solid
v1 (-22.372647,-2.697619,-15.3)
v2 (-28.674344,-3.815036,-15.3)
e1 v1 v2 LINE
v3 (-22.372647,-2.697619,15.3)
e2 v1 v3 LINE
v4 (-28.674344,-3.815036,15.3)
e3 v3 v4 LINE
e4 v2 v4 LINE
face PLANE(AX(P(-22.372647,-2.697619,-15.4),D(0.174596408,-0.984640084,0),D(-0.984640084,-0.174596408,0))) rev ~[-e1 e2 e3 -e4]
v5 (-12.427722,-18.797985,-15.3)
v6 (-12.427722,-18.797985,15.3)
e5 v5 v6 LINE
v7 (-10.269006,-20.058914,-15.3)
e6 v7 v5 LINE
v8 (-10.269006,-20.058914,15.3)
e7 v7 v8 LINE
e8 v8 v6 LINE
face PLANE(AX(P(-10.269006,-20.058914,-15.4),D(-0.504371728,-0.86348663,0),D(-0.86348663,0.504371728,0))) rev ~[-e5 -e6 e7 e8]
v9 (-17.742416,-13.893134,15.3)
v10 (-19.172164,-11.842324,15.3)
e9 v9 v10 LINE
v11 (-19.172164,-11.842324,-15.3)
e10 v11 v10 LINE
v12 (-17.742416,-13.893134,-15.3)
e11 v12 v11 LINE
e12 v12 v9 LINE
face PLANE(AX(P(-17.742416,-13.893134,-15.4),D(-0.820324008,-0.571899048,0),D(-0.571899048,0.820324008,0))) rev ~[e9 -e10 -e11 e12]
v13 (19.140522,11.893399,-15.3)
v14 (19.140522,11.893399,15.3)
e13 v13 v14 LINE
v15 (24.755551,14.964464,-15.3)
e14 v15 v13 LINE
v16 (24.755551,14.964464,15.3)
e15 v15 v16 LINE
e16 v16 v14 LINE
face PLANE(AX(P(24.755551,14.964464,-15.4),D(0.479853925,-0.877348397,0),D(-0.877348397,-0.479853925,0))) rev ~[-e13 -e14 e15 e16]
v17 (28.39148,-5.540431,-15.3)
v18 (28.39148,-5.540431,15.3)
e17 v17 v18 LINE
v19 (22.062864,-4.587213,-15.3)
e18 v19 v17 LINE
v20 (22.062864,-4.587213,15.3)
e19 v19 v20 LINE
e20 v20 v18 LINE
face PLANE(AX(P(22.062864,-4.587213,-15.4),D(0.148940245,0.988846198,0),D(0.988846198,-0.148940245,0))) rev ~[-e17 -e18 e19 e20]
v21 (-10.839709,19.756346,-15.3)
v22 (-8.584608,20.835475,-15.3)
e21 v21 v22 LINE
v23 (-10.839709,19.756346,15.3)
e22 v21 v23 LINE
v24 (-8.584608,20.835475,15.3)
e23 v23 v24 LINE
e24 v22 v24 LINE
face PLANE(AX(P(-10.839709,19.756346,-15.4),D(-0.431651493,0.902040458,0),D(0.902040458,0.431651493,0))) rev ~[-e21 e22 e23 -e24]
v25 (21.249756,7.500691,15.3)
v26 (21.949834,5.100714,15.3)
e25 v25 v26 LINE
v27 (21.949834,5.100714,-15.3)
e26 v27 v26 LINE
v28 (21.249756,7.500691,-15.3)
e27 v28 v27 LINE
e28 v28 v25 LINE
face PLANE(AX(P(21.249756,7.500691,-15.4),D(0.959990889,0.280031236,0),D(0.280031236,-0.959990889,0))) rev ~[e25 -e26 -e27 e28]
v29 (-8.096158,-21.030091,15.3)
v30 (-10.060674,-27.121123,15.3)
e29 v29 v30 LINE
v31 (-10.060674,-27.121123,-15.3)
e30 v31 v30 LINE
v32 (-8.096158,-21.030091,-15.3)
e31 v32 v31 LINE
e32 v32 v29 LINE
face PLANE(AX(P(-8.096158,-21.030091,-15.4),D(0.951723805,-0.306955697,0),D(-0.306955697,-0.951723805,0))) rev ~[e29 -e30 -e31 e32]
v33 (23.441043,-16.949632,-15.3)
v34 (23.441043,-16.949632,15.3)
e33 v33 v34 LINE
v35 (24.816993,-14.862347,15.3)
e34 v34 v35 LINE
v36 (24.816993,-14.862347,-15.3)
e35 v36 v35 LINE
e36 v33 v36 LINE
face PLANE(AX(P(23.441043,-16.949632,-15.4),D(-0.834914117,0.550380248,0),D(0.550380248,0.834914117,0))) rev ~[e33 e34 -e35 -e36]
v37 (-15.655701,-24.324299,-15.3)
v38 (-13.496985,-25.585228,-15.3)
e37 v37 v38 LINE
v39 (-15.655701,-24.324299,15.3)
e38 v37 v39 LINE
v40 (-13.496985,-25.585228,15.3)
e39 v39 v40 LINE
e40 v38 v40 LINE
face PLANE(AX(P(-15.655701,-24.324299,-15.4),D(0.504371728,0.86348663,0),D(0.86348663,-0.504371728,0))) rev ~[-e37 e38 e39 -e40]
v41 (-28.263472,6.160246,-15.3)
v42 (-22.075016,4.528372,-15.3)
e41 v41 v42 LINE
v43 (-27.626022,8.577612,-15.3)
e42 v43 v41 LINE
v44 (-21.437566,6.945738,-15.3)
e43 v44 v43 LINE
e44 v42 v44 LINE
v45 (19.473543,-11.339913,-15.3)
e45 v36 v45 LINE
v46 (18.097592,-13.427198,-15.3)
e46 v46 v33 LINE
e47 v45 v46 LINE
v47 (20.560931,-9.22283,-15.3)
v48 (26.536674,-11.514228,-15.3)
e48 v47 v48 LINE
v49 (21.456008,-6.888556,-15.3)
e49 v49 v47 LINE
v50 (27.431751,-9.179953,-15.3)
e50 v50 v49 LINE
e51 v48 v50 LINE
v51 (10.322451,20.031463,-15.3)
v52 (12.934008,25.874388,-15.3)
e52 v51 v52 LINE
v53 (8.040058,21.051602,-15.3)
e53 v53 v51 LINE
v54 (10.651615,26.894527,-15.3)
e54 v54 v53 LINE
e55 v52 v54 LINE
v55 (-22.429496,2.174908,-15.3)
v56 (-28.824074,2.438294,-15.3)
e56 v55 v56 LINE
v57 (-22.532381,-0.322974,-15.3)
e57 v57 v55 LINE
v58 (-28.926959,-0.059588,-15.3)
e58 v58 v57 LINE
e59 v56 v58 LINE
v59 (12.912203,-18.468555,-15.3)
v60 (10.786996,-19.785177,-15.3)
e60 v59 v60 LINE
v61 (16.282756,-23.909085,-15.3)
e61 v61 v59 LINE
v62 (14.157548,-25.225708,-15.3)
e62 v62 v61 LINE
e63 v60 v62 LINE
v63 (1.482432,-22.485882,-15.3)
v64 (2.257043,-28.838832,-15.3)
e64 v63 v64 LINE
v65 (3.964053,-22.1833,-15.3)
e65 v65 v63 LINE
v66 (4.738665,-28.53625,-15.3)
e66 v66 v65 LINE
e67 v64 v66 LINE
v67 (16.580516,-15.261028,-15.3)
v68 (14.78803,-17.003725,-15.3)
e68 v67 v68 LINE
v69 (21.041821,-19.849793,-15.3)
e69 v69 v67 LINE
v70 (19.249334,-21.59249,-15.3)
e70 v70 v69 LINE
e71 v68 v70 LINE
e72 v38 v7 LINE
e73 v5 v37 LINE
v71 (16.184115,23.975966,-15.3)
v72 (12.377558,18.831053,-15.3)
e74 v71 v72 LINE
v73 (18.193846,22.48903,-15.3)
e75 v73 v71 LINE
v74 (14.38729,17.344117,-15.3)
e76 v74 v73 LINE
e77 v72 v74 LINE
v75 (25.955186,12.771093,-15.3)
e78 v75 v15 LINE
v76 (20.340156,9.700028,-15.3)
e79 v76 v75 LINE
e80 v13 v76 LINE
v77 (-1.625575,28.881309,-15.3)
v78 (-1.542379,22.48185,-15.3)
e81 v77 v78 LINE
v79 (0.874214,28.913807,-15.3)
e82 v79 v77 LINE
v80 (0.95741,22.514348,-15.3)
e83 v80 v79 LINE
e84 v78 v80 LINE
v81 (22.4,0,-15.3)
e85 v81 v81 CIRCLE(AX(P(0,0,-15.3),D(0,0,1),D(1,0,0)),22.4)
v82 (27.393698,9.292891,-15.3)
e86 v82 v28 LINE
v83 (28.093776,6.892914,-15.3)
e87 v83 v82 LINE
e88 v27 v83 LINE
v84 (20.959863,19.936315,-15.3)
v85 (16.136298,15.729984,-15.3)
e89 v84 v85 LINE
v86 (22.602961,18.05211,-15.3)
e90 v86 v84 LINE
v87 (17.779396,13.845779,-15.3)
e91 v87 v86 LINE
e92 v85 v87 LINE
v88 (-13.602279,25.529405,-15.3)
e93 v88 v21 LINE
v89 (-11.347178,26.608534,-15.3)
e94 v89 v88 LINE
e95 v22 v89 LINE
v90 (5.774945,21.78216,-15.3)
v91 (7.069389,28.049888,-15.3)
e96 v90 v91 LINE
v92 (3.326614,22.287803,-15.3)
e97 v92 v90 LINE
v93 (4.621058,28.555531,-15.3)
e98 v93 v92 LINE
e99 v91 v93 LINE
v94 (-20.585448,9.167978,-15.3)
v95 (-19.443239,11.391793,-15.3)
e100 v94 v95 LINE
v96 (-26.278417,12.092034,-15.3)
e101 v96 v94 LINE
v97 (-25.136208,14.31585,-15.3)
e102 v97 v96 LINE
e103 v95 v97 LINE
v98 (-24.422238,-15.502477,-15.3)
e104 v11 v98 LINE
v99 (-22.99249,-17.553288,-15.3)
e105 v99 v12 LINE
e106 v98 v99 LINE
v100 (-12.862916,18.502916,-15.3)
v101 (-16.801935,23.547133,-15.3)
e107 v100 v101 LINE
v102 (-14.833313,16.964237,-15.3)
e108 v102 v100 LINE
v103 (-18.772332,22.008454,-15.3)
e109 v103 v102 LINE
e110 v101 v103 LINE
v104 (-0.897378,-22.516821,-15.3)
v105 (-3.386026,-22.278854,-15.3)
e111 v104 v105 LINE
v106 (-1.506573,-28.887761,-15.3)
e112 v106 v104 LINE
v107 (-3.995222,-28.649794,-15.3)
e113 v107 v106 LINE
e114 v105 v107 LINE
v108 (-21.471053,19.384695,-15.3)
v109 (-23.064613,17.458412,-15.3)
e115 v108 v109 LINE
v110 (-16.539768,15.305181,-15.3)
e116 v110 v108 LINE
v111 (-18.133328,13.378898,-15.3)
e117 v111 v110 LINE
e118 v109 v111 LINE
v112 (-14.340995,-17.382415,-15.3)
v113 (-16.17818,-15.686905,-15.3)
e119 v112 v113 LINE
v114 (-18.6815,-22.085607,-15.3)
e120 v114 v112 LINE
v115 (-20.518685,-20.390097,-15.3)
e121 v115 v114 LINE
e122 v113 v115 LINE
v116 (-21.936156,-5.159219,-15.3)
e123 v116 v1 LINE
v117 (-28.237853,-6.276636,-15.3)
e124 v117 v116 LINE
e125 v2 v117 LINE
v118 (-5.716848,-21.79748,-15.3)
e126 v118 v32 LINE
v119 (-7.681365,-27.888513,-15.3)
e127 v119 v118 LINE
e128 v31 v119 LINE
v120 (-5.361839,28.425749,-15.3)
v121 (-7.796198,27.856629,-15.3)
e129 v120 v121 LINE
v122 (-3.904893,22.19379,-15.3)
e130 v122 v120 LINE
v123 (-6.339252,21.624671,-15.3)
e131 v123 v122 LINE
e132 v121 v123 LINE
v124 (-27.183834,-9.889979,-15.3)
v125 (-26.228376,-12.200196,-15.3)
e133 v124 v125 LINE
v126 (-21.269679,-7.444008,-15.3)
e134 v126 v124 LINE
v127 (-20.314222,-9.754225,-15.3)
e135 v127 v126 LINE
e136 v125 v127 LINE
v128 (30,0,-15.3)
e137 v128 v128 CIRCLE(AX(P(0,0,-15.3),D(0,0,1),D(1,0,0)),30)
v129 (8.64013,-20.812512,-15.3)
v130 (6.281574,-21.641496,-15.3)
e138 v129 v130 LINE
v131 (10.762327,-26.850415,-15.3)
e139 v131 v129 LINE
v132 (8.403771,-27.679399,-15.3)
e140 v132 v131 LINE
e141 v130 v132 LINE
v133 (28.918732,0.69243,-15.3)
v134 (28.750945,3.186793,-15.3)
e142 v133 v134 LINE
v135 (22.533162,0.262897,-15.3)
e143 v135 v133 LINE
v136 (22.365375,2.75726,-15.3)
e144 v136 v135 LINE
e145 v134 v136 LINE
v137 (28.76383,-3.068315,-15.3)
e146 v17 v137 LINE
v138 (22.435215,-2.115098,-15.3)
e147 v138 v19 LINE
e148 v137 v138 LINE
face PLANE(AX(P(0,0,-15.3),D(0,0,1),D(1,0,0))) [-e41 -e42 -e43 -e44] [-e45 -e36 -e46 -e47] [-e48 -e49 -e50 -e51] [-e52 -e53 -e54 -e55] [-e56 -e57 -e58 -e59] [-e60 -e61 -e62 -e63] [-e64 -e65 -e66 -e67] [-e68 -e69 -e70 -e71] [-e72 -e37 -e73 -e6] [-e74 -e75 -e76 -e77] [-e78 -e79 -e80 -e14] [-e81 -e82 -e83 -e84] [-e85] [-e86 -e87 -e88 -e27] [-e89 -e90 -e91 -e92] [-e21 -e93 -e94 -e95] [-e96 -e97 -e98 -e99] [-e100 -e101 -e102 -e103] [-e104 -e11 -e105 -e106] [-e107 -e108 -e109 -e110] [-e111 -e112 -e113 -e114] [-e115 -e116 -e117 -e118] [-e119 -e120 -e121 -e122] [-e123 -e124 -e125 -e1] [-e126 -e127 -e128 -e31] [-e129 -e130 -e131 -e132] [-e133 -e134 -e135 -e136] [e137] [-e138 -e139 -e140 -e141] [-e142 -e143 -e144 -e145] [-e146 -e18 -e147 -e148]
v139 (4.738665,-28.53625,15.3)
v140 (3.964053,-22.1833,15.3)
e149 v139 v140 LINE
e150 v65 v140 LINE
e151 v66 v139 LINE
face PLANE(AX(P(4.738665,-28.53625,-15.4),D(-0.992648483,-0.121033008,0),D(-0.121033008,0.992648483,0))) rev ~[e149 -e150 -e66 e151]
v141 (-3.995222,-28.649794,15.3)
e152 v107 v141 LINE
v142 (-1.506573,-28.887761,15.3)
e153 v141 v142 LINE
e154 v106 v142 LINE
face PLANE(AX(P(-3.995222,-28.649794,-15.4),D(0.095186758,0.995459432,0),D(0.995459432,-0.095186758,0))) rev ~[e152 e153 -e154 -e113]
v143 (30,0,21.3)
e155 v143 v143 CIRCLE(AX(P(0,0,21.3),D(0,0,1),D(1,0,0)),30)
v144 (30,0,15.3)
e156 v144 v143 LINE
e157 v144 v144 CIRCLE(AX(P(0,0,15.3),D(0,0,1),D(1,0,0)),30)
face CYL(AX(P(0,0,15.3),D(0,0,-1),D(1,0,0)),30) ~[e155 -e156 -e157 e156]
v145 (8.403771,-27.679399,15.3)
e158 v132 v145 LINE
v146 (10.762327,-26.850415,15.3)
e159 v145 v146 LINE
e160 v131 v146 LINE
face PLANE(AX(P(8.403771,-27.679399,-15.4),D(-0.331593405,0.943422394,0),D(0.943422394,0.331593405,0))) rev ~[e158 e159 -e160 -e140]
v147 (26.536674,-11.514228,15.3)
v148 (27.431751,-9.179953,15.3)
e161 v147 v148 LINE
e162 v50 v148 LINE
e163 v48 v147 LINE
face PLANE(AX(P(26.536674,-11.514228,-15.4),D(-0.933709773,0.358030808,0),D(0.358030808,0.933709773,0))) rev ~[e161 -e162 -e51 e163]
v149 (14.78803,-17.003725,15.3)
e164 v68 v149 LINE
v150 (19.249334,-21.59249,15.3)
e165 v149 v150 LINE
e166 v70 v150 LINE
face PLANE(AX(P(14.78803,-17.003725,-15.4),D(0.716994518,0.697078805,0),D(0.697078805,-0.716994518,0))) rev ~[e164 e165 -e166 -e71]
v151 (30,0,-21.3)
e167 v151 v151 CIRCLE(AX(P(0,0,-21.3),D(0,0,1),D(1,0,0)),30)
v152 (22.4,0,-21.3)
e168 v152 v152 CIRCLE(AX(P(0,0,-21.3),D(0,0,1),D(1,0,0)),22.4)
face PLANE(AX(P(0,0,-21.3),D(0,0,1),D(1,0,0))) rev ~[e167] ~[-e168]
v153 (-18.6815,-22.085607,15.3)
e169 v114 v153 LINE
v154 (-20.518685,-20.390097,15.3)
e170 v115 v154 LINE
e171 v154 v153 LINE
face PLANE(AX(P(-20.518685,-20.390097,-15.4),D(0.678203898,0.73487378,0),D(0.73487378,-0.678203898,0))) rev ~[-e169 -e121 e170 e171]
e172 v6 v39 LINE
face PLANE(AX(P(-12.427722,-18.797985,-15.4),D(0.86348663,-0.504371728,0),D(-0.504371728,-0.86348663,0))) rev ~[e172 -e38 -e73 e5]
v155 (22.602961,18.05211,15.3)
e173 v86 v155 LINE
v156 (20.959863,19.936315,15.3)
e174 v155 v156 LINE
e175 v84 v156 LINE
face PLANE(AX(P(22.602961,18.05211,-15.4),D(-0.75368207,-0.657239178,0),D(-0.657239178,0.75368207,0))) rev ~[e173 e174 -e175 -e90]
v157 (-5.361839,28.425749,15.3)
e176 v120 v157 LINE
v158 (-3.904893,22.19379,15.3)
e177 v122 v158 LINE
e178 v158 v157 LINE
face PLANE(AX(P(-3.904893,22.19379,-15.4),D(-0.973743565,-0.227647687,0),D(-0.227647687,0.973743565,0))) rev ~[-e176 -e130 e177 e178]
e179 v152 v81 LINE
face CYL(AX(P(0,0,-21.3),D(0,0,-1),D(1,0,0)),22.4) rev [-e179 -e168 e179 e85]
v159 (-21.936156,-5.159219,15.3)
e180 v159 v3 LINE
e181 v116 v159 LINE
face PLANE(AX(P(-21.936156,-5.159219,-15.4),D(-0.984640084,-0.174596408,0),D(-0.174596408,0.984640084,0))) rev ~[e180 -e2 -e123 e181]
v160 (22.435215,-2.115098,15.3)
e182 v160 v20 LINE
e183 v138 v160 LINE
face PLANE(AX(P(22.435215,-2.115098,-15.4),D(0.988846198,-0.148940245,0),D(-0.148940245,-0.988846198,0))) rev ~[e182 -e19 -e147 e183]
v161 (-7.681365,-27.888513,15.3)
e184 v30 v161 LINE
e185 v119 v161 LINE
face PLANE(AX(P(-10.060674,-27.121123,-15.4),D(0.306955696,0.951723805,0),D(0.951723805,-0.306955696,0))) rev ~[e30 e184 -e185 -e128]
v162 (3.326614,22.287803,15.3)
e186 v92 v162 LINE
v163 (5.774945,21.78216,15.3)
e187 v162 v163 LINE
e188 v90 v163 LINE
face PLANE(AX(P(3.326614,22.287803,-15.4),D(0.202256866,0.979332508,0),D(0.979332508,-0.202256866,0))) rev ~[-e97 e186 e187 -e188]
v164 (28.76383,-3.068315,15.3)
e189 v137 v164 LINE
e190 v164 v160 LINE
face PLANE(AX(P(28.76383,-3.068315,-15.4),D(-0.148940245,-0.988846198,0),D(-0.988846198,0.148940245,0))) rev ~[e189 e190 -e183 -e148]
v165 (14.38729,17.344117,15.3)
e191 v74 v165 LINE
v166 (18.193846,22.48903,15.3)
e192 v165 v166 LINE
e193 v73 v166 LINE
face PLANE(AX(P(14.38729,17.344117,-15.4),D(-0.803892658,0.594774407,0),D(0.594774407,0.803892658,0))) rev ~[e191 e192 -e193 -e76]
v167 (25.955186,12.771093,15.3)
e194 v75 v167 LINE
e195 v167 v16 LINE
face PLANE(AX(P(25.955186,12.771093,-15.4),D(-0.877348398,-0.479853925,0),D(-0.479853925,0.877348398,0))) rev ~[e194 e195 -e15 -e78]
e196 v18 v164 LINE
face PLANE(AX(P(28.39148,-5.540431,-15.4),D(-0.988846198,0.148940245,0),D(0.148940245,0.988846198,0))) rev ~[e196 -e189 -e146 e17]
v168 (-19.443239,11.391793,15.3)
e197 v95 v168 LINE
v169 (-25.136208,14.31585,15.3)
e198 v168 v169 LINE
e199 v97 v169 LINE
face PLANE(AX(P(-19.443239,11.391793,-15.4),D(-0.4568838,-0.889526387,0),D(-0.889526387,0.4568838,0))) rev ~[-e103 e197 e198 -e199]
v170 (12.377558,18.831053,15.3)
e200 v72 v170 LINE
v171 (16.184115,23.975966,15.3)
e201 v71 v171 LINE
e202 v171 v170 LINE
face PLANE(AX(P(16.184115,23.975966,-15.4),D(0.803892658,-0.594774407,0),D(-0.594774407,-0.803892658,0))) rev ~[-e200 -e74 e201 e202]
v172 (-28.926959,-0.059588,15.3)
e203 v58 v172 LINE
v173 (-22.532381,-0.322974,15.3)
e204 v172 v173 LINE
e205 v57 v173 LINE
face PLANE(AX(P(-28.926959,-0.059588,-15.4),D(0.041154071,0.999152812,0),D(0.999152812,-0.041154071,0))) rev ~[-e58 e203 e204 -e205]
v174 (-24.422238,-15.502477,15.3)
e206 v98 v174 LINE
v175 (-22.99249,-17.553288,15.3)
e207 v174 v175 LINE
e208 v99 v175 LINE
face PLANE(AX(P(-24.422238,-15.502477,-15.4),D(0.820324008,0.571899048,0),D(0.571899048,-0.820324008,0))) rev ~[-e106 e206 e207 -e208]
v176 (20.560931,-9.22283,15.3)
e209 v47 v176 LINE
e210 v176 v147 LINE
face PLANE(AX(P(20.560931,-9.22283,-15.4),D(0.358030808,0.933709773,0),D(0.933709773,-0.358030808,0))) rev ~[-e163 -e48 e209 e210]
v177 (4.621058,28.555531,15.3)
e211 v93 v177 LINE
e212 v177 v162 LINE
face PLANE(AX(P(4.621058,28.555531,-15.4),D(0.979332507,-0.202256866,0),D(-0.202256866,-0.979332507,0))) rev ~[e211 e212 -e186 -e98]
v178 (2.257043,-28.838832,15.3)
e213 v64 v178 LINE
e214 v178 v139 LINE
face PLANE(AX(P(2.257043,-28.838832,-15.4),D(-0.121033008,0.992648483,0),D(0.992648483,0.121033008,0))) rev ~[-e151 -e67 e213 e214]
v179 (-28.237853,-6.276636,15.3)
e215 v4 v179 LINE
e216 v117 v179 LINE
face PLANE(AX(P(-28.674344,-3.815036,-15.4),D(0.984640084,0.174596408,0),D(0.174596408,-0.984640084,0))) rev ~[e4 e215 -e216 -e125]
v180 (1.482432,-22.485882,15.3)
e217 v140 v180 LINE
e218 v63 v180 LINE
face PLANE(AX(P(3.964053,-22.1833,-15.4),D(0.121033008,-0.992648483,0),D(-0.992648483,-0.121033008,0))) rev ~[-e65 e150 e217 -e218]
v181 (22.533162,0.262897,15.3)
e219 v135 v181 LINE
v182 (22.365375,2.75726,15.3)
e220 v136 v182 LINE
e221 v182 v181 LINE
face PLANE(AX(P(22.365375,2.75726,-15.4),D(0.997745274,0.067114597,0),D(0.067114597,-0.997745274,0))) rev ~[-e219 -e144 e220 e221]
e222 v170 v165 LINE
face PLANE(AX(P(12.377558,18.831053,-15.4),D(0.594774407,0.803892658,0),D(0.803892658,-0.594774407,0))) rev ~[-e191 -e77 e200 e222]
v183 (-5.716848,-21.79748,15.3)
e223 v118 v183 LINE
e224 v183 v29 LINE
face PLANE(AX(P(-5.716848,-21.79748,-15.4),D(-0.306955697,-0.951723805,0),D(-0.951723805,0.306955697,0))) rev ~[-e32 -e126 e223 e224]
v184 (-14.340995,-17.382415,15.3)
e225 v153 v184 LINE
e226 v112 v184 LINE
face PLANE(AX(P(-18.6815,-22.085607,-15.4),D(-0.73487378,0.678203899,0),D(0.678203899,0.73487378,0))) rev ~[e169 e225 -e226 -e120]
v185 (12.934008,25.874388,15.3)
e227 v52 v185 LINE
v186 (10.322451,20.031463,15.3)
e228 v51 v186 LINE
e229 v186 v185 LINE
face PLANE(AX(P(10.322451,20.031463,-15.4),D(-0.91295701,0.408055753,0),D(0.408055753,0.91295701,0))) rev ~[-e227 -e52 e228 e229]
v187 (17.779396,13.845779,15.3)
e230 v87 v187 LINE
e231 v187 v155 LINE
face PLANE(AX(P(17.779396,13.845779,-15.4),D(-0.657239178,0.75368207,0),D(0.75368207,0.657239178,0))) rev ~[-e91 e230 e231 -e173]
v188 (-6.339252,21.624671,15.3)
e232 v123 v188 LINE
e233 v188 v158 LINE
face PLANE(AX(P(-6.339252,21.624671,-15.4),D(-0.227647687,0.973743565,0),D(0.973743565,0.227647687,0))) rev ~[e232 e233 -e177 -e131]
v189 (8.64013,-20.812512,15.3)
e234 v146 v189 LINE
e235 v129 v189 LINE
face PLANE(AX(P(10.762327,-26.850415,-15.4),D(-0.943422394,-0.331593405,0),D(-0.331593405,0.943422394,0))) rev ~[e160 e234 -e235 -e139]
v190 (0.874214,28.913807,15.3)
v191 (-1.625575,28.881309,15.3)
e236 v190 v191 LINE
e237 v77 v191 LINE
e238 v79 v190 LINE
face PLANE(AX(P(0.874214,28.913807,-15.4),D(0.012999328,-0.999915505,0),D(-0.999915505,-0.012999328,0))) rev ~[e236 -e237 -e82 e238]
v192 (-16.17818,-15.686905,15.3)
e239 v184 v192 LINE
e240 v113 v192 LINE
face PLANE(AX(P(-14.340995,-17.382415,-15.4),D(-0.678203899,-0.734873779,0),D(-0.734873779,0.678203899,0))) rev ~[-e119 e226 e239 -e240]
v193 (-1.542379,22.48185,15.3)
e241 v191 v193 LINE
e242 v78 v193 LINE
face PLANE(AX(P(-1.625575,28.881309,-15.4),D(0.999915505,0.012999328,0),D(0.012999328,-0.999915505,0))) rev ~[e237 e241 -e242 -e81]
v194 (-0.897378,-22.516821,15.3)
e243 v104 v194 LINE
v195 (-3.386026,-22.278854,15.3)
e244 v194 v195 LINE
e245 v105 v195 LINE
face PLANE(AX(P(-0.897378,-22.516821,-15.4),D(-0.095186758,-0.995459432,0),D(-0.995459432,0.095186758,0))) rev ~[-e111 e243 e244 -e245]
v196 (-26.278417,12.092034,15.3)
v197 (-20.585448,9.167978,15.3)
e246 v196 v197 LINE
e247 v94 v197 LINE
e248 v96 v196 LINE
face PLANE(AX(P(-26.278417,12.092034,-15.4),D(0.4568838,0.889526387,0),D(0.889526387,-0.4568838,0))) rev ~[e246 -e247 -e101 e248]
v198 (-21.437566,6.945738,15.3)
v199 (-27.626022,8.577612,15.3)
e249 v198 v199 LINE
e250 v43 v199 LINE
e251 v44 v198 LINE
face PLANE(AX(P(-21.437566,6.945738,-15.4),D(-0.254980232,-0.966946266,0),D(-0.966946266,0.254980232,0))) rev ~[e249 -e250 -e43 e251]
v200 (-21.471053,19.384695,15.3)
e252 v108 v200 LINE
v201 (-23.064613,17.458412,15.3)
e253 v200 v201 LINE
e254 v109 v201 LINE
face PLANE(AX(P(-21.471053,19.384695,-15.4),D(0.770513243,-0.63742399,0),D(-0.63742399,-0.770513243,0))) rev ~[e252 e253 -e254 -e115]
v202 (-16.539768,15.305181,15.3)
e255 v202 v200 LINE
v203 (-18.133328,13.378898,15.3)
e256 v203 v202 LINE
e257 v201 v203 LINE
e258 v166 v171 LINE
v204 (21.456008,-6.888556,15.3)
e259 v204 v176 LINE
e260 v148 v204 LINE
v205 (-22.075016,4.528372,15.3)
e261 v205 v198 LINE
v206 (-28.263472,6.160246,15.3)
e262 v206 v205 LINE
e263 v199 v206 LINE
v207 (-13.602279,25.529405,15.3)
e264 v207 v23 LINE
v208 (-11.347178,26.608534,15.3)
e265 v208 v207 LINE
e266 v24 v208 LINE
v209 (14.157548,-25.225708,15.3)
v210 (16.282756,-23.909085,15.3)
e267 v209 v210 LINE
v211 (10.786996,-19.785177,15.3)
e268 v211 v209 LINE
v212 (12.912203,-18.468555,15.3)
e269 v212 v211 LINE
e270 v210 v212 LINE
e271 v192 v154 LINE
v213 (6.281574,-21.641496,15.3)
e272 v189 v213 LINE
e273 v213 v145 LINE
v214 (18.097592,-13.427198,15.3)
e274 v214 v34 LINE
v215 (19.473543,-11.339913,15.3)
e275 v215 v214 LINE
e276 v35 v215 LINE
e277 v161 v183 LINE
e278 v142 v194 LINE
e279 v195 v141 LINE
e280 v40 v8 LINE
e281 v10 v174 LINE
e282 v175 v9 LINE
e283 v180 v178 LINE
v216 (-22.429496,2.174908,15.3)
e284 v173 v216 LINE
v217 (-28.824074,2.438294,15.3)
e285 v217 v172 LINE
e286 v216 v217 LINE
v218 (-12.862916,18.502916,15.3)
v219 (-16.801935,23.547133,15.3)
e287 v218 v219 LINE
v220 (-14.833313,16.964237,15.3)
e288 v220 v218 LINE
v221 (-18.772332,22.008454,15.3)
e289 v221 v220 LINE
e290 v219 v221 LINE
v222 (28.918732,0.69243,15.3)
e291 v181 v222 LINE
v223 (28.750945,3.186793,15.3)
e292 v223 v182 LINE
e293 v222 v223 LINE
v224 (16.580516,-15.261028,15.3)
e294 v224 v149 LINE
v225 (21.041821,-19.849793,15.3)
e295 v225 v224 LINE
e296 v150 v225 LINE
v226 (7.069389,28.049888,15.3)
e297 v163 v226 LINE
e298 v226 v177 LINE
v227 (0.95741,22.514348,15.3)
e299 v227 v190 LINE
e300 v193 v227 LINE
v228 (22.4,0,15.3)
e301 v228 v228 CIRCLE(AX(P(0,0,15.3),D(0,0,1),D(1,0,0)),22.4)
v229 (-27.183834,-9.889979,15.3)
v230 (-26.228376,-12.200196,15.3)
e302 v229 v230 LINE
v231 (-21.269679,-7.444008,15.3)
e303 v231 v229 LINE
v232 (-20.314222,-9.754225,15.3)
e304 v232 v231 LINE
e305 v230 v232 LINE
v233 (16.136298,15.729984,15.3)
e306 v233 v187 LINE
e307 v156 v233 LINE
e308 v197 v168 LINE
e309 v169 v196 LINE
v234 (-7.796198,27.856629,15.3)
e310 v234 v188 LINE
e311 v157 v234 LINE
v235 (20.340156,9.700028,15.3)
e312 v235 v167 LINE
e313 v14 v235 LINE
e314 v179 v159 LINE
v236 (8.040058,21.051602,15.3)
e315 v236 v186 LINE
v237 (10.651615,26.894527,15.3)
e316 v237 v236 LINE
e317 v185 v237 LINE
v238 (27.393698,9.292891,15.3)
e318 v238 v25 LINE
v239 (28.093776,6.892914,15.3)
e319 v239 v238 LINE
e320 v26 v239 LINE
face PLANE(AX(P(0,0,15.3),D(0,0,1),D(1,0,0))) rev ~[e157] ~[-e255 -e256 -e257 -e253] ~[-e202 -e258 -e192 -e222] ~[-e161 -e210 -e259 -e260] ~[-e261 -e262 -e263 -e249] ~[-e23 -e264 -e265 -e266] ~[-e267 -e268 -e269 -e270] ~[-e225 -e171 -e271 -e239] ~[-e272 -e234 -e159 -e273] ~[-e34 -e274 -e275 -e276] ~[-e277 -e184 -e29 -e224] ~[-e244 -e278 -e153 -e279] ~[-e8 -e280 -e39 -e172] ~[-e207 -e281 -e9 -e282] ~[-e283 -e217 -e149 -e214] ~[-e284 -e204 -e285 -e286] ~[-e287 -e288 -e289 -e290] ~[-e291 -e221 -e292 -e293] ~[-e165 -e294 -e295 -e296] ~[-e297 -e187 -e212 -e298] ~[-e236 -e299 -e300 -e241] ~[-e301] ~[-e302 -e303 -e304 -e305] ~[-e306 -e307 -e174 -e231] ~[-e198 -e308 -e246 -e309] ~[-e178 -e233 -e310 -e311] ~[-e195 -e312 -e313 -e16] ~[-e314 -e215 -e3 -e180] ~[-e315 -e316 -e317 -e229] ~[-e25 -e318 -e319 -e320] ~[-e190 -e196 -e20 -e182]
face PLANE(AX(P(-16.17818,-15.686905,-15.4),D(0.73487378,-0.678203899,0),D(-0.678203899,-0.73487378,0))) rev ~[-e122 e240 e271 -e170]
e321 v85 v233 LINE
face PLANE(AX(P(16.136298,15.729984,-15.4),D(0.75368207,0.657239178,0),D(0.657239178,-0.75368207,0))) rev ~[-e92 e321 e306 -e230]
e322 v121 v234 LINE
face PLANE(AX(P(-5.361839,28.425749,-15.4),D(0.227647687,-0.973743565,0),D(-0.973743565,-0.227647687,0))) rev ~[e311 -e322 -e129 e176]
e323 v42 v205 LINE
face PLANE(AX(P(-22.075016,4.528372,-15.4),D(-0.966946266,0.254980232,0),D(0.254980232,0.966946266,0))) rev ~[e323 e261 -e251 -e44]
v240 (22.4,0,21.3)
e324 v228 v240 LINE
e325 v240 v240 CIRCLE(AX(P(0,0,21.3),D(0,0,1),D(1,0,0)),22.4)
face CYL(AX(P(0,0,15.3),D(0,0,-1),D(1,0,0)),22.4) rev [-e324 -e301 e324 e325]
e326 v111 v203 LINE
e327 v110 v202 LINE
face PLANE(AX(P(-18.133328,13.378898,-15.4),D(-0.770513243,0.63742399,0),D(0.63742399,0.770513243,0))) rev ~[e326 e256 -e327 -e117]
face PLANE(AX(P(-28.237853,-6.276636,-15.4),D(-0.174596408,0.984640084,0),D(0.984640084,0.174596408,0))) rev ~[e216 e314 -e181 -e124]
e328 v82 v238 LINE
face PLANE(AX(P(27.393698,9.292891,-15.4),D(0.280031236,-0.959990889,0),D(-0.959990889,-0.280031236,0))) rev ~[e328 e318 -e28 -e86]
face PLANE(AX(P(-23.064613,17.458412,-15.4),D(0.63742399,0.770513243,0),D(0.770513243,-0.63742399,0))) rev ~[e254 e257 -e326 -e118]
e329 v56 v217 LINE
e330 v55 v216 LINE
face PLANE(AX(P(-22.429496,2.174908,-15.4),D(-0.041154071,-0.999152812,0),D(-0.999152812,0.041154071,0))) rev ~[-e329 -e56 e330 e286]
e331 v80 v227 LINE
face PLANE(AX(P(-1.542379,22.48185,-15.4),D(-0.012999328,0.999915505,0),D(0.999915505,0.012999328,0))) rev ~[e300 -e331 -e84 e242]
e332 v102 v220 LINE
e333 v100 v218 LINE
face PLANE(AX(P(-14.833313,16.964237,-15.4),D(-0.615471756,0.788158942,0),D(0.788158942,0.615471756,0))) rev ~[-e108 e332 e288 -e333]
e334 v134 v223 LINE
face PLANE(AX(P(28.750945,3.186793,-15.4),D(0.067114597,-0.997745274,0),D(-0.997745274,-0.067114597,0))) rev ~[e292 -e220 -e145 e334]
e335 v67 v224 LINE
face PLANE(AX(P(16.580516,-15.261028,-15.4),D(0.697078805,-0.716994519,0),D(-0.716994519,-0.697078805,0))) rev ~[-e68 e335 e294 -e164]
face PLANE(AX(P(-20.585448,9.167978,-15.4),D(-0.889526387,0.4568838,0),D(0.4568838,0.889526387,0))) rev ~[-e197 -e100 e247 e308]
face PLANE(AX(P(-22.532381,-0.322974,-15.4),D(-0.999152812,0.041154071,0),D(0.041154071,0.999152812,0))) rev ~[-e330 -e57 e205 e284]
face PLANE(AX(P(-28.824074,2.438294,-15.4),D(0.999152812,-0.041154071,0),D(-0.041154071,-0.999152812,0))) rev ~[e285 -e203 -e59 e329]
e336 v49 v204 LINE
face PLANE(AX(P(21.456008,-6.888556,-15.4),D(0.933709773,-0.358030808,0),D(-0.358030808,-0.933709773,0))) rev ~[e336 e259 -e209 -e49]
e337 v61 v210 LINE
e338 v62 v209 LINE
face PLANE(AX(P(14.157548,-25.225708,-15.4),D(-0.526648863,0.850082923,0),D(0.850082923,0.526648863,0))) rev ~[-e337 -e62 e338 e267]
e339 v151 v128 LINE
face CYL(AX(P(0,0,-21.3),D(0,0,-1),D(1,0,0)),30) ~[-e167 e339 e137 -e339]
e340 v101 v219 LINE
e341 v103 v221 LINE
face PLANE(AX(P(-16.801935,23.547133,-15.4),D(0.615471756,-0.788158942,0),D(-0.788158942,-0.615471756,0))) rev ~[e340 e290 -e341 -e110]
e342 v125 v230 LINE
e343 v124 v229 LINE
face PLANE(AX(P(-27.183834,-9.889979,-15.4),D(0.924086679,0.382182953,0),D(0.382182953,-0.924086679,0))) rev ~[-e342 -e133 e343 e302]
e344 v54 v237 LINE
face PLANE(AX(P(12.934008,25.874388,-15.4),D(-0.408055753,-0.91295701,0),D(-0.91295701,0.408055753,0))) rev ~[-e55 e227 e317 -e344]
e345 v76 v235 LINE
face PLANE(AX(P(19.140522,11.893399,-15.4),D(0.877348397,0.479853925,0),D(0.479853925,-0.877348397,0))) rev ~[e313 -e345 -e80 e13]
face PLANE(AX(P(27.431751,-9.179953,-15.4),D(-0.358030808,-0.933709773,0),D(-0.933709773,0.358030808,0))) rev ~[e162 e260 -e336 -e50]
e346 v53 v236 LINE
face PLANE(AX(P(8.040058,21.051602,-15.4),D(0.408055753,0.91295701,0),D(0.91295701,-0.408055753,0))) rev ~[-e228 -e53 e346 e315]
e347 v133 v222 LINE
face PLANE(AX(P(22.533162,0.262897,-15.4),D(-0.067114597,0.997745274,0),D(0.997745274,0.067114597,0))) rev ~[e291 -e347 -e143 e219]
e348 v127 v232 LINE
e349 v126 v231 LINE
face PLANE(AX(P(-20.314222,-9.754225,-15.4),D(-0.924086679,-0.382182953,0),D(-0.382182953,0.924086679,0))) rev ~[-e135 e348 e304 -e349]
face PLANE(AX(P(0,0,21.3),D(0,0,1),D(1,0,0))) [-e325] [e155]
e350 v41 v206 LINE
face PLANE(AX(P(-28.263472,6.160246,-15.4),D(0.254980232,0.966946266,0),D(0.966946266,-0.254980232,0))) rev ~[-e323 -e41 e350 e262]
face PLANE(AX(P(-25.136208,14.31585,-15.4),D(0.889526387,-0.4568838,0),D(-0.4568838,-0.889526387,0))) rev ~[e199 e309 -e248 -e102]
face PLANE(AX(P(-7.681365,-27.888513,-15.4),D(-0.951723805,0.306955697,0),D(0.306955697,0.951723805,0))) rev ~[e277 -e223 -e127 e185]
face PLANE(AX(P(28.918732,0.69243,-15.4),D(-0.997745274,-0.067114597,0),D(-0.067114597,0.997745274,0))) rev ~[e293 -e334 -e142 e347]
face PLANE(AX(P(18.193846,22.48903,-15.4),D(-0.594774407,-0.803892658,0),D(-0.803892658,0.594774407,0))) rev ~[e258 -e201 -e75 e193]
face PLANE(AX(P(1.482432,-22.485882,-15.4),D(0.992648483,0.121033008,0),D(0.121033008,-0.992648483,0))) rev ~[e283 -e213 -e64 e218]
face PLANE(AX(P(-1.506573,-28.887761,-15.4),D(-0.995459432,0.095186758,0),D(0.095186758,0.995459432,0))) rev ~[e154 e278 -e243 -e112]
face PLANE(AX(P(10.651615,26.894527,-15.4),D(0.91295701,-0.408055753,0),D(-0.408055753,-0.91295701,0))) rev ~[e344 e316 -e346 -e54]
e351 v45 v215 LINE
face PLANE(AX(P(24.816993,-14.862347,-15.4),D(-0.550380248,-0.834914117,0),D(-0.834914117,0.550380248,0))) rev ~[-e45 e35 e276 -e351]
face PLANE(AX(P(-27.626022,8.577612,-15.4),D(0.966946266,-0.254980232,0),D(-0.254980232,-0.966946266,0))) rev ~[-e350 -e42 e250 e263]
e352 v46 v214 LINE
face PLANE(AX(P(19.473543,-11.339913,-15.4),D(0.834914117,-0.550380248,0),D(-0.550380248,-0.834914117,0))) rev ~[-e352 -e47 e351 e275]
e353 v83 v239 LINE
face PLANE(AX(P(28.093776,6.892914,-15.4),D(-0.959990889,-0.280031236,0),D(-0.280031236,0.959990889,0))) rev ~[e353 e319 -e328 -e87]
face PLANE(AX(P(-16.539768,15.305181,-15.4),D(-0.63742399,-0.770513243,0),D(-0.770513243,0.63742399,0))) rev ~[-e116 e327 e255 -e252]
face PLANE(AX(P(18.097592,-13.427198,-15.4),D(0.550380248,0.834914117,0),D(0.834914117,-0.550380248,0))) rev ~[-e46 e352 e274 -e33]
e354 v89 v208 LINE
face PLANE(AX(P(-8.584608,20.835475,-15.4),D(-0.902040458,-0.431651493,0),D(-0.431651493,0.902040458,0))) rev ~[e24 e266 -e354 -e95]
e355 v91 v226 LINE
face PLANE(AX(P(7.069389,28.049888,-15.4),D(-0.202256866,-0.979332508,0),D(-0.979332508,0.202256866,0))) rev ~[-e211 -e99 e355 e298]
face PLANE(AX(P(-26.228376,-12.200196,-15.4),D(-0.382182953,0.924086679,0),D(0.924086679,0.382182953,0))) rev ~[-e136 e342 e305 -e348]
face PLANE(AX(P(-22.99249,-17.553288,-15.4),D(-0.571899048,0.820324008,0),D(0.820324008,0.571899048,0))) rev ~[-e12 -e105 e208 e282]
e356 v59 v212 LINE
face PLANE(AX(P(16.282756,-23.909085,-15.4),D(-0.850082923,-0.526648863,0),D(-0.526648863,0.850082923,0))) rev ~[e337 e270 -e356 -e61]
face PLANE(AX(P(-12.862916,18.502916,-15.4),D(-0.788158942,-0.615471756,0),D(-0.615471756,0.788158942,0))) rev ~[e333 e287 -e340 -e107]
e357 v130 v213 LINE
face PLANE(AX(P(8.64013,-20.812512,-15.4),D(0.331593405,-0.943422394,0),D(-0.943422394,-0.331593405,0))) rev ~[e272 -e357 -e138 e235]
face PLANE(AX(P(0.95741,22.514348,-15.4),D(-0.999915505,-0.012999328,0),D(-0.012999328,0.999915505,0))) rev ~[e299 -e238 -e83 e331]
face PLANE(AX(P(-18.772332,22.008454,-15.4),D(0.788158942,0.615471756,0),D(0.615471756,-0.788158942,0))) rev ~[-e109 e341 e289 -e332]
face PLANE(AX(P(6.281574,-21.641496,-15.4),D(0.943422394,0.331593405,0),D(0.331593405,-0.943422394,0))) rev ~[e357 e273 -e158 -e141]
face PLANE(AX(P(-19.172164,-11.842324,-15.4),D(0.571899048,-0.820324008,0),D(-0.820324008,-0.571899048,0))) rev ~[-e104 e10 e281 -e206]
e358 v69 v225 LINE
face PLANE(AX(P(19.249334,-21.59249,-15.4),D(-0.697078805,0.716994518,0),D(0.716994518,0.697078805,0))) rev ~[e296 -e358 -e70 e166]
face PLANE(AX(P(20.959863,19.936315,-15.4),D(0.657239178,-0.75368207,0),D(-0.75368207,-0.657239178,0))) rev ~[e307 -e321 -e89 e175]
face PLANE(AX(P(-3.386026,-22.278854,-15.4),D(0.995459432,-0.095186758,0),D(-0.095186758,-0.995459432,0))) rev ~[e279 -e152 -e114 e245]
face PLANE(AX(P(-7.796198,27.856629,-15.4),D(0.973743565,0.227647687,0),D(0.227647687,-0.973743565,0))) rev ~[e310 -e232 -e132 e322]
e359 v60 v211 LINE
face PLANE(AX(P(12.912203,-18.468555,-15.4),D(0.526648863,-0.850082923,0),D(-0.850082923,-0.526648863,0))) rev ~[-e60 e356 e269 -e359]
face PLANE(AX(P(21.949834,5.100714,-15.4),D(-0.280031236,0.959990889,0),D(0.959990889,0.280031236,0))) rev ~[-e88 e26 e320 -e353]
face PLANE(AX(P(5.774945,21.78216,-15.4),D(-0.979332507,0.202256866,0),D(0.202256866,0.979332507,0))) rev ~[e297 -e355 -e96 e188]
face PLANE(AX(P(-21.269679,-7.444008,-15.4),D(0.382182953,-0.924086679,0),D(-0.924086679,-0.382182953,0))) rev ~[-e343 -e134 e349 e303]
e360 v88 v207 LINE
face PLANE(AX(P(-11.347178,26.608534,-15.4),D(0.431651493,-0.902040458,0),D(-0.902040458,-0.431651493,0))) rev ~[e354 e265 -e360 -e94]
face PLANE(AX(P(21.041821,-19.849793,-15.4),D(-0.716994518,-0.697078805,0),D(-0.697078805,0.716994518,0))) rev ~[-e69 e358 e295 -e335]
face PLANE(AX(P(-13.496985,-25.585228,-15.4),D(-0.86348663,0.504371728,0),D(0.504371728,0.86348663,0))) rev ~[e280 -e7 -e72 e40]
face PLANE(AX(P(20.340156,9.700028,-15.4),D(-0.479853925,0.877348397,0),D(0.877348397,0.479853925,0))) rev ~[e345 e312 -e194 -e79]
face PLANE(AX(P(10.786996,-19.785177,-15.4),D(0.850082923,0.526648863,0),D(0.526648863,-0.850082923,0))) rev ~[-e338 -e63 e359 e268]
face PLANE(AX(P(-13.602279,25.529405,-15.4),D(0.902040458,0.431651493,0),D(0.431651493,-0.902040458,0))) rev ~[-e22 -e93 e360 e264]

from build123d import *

# Parameters (mm, degrees)
BARS_START           = -15.4
BARS_DEPTH           = 30.8
BARS_2_DEPTH         = 30.8
BARS_3_DEPTH         = 30.8
BARS_4_DEPTH         = 30.8
BARS_5_DEPTH         = 30.8
BARS_6_DEPTH         = 30.8
BARS_7_DEPTH         = 30.8
BARS_8_DEPTH         = 30.8
BARS_9_DEPTH         = 30.8
BARS_10_DEPTH        = 30.8
BARS_11_DEPTH        = 30.8
BARS_12_DEPTH        = 30.8
BARS_13_DEPTH        = 30.8
BARS_14_DEPTH        = 30.8
BARS_15_DEPTH        = 30.8
BARS_16_DEPTH        = 30.8
BARS_17_DEPTH        = 30.8
BARS_18_DEPTH        = 30.8
BARS_19_DEPTH        = 30.8
BARS_20_DEPTH        = 30.8
BARS_21_DEPTH        = 30.8
BARS_22_DEPTH        = 30.8
BARS_23_DEPTH        = 30.8
BARS_24_DEPTH        = 30.8
BARS_25_DEPTH        = 30.8
BARS_26_DEPTH        = 30.8
BARS_27_DEPTH        = 30.8
BARS_28_DEPTH        = 30.8
BARS_29_DEPTH        = 30.8
END_RING_FRONT_START = 15.3
SKETCH_2_R           = 30
SKETCH_2_R_2         = 22.4
END_RING_FRONT_DEPTH = 6
END_RING_REAR_START  = -21.3
SKETCH_3_R           = 30
SKETCH_3_R_2         = 22.4
END_RING_REAR_DEPTH  = 6


with BuildPart() as part:
    # Эскиз1 → Bars (new body)
    with BuildSketch(Plane.XY.offset(BARS_START)):
        Polygon((22.533161901, 0.262896843), (28.918731651, 0.692430264), (28.750945159, 3.186793448), (22.365375408, 2.757260027), align=None)
    extrude(amount=BARS_DEPTH)



with BuildPart() as body_2:
    # Эскиз1 → Bars 2 (new body)
    with BuildSketch(Plane.XY.offset(BARS_START)):
        Polygon((21.949834048, 5.100714194), (28.093775737, 6.892914103), (27.393697648, 9.292891325), (21.249755958, 7.500691416), align=None)
    extrude(amount=BARS_2_DEPTH)


with BuildPart() as body_3:
    # Эскиз1 → Bars 3 (new body)
    with BuildSketch(Plane.XY.offset(BARS_START)):
        Polygon((20.34015635, 9.700027818), (25.955186093, 12.771092939), (24.755551281, 14.964463933), (19.140521537, 11.893398812), align=None)
    extrude(amount=BARS_3_DEPTH)


with BuildPart() as body_4:
    # Эскиз1 → Bars 4 (new body)
    with BuildSketch(Plane.XY.offset(BARS_START)):
        Polygon((17.779395547, 13.845778923), (22.602960795, 18.052109663), (20.959862849, 19.936314838), (16.136297602, 15.729984098), align=None)
    extrude(amount=BARS_4_DEPTH)


with BuildPart() as body_5:
    # Эскиз1 → Bars 5 (new body)
    with BuildSketch(Plane.XY.offset(BARS_START)):
        Polygon((14.387289969, 17.344116793), (18.193846171, 22.489029803), (16.184114527, 23.97596582), (12.377558325, 18.83105281), align=None)
    extrude(amount=BARS_5_DEPTH)


with BuildPart() as body_6:
    # Эскиз1 → Bars 6 (new body)
    with BuildSketch(Plane.XY.offset(BARS_START)):
        Polygon((10.322450703, 20.031463039), (12.934007522, 25.874387904), (10.651614996, 26.894527287), (8.040058177, 21.051602421), align=None)
    extrude(amount=BARS_6_DEPTH)


with BuildPart() as body_7:
    # Эскиз1 → Bars 7 (new body)
    with BuildSketch(Plane.XY.offset(BARS_START)):
        Polygon((5.774945114, 21.782160337), (7.069389055, 28.049888385), (4.621057787, 28.555530549), (3.326613846, 22.287802501), align=None)
    extrude(amount=BARS_7_DEPTH)


with BuildPart() as body_8:
    # Эскиз1 → Bars 8 (new body)
    with BuildSketch(Plane.XY.offset(BARS_START)):
        Polygon((0.95740951, 22.514348026), (0.874213814, 28.913807259), (-1.625574949, 28.88130894), (-1.542379252, 22.481849707), align=None)
    extrude(amount=BARS_8_DEPTH)


with BuildPart() as body_9:
    # Эскиз1 → Bars 9 (new body)
    with BuildSketch(Plane.XY.offset(BARS_START)):
        Polygon((-3.904893498, 22.193789824), (-5.361838694, 28.425748641), (-7.796197607, 27.856629424), (-6.339252411, 21.624670607), align=None)
    extrude(amount=BARS_9_DEPTH)


with BuildPart() as body_10:
    # Эскиз1 → Bars 10 (new body)
    with BuildSketch(Plane.XY.offset(BARS_START)):
        Polygon((-8.584608027, 20.835474677), (-11.347177584, 26.60853361), (-13.602278729, 25.529404877), (-10.839709172, 19.756345944), align=None)
    extrude(amount=BARS_10_DEPTH)


with BuildPart() as body_11:
    # Эскиз1 → Bars 11 (new body)
    with BuildSketch(Plane.XY.offset(BARS_START)):
        Polygon((-12.862915825, 18.502915891), (-16.801935061, 23.547133121), (-18.772332416, 22.008453732), (-14.83331318, 16.964236502), align=None)
    extrude(amount=BARS_11_DEPTH)


with BuildPart() as body_12:
    # Эскиз1 → Bars 12 (new body)
    with BuildSketch(Plane.XY.offset(BARS_START)):
        Polygon((-16.539767975, 15.305181323), (-21.471052729, 19.384694857), (-23.064612703, 17.45841175), (-18.13332795, 13.378898216), align=None)
    extrude(amount=BARS_12_DEPTH)


with BuildPart() as body_13:
    # Эскиз1 → Bars 13 (new body)
    with BuildSketch(Plane.XY.offset(BARS_START)):
        Polygon((-19.443238958, 11.391793486), (-25.136207835, 14.315849807), (-26.278417335, 12.092033839), (-20.585448458, 9.167977519), align=None)
    extrude(amount=BARS_13_DEPTH)


with BuildPart() as body_14:
    # Эскиз1 → Bars 14 (new body)
    with BuildSketch(Plane.XY.offset(BARS_START)):
        Polygon((-21.437565696, 6.945738047), (-27.626021799, 8.57761153), (-28.263472378, 6.160245865), (-22.075016276, 4.528372382), align=None)
    extrude(amount=BARS_14_DEPTH)


with BuildPart() as body_15:
    # Эскиз1 → Bars 15 (new body)
    with BuildSketch(Plane.XY.offset(BARS_START)):
        Polygon((-22.429495689, 2.174907617), (-28.824073688, 2.438293672), (-28.926958866, -0.059588359), (-22.532380867, -0.322974414), align=None)
    extrude(amount=BARS_15_DEPTH)


with BuildPart() as body_16:
    # Эскиз1 → Bars 16 (new body)
    with BuildSketch(Plane.XY.offset(BARS_START)):
        Polygon((-22.372647392, -2.697619077), (-28.674343927, -3.815036088), (-28.237852907, -6.276636298), (-21.936156372, -5.159219286), align=None)
    extrude(amount=BARS_16_DEPTH)


with BuildPart() as body_17:
    # Эскиз1 → Bars 17 (new body)
    with BuildSketch(Plane.XY.offset(BARS_START)):
        Polygon((-21.269678968, -7.4440081), (-27.183833713, -9.889979002), (-26.22837633, -12.200195699), (-20.314221585, -9.754224798), align=None)
    extrude(amount=BARS_17_DEPTH)


with BuildPart() as body_18:
    # Эскиз1 → Bars 18 (new body)
    with BuildSketch(Plane.XY.offset(BARS_START)):
        Polygon((-19.172163995, -11.842323579), (-24.422237648, -15.502477488), (-22.992490027, -17.553287509), (-17.742416374, -13.893133599), align=None)
    extrude(amount=BARS_18_DEPTH)


with BuildPart() as body_19:
    # Эскиз1 → Bars 19 (new body)
    with BuildSketch(Plane.XY.offset(BARS_START)):
        Polygon((-16.178179942, -15.686905168), (-20.518684893, -20.390097358), (-18.681500444, -22.085607104), (-14.340995493, -17.382414915), align=None)
    extrude(amount=BARS_19_DEPTH)


with BuildPart() as body_20:
    # Эскиз1 → Bars 20 (new body)
    with BuildSketch(Plane.XY.offset(BARS_START)):
        Polygon((-12.427722176, -18.797984507), (-15.655701238, -24.324298936), (-13.496984664, -25.585228257), (-10.269005602, -20.058913828), align=None)
    extrude(amount=BARS_20_DEPTH)


with BuildPart() as body_21:
    # Эскиз1 → Bars 21 (new body)
    with BuildSketch(Plane.XY.offset(BARS_START)):
        Polygon((-8.096157933, -21.030090982), (-10.060674393, -27.121123332), (-7.681364881, -27.888512573), (-5.716848422, -21.797480224), align=None)
    extrude(amount=BARS_21_DEPTH)


with BuildPart() as body_22:
    # Эскиз1 → Bars 22 (new body)
    with BuildSketch(Plane.XY.offset(BARS_START)):
        Polygon((-3.386026344, -22.278853777), (-3.995221595, -28.649794143), (-1.506573014, -28.887761037), (-0.897377763, -22.516820671), align=None)
    extrude(amount=BARS_22_DEPTH)


with BuildPart() as body_23:
    # Эскиз1 → Bars 23 (new body)
    with BuildSketch(Plane.XY.offset(BARS_START)):
        Polygon((1.482432074, -22.48588213), (2.257043325, -28.838832421), (4.738664533, -28.536249902), (3.964053282, -22.18329961), align=None)
    extrude(amount=BARS_23_DEPTH)


with BuildPart() as body_24:
    # Эскиз1 → Bars 24 (new body)
    with BuildSketch(Plane.XY.offset(BARS_START)):
        Polygon((6.281573616, -21.641495625), (8.403771407, -27.679398948), (10.762327392, -26.850415436), (8.640129601, -20.812512113), align=None)
    extrude(amount=BARS_24_DEPTH)


with BuildPart() as body_25:
    # Эскиз1 → Bars 25 (new body)
    with BuildSketch(Plane.XY.offset(BARS_START)):
        Polygon((10.786995757, -19.785176839), (14.157548478, -25.225707544), (16.282755785, -23.909085387), (12.912203064, -18.468554682), align=None)
    extrude(amount=BARS_25_DEPTH)


with BuildPart() as body_26:
    # Эскиз1 → Bars 26 (new body)
    with BuildSketch(Plane.XY.offset(BARS_START)):
        Polygon((14.788029965, -17.003725173), (19.249334318, -21.592490091), (21.041820614, -19.849793078), (16.580516262, -15.26102816), align=None)
    extrude(amount=BARS_26_DEPTH)


with BuildPart() as body_27:
    # Эскиз1 → Bars 27 (new body)
    with BuildSketch(Plane.XY.offset(BARS_START)):
        Polygon((18.097592328, -13.427198216), (23.441042678, -16.9496318), (24.816993297, -14.862346507), (19.473542947, -11.339912923), align=None)
    extrude(amount=BARS_27_DEPTH)


with BuildPart() as body_28:
    # Эскиз1 → Bars 28 (new body)
    with BuildSketch(Plane.XY.offset(BARS_START)):
        Polygon((20.560931388, -9.222830393), (26.536673936, -11.514227564), (27.431750956, -9.179953131), (21.456008407, -6.88855596), align=None)
    extrude(amount=BARS_28_DEPTH)


with BuildPart() as body_29:
    # Эскиз1 → Bars 29 (new body)
    with BuildSketch(Plane.XY.offset(BARS_START)):
        Polygon((22.062864148, -4.587213273), (28.391479815, -5.540430844), (28.763830428, -3.068315349), (22.435214761, -2.115097778), align=None)
    extrude(amount=BARS_29_DEPTH)


with BuildPart() as part_1:
    add(part.part)

    add(body_2.part)  # End_ring_front merges body 2

    add(body_3.part)  # End_ring_front merges body 3

    add(body_4.part)  # End_ring_front merges body 4

    add(body_5.part)  # End_ring_front merges body 5

    add(body_6.part)  # End_ring_front merges body 6

    add(body_7.part)  # End_ring_front merges body 7

    add(body_8.part)  # End_ring_front merges body 8

    add(body_9.part)  # End_ring_front merges body 9

    add(body_10.part)  # End_ring_front merges body 10

    add(body_11.part)  # End_ring_front merges body 11

    add(body_12.part)  # End_ring_front merges body 12

    add(body_13.part)  # End_ring_front merges body 13

    add(body_14.part)  # End_ring_front merges body 14

    add(body_15.part)  # End_ring_front merges body 15

    add(body_16.part)  # End_ring_front merges body 16

    add(body_17.part)  # End_ring_front merges body 17

    add(body_18.part)  # End_ring_front merges body 18

    add(body_19.part)  # End_ring_front merges body 19

    add(body_20.part)  # End_ring_front merges body 20

    add(body_21.part)  # End_ring_front merges body 21

    add(body_22.part)  # End_ring_front merges body 22

    add(body_23.part)  # End_ring_front merges body 23

    add(body_24.part)  # End_ring_front merges body 24

    add(body_25.part)  # End_ring_front merges body 25

    add(body_26.part)  # End_ring_front merges body 26

    add(body_27.part)  # End_ring_front merges body 27

    add(body_28.part)  # End_ring_front merges body 28

    add(body_29.part)  # End_ring_front merges body 29
    # Эскиз2 → End_ring_front (add)
    with BuildSketch(Plane.XY.offset(END_RING_FRONT_START)):
        Circle(SKETCH_2_R)
        Circle(SKETCH_2_R_2, mode=Mode.SUBTRACT)
    extrude(amount=END_RING_FRONT_DEPTH)

    # Эскиз3 → End_ring_rear (add)
    with BuildSketch(Plane.XY.offset(END_RING_REAR_START)):
        Circle(SKETCH_3_R)
        Circle(SKETCH_3_R_2, mode=Mode.SUBTRACT)
    extrude(amount=END_RING_REAR_DEPTH)


solid = part_1.part
